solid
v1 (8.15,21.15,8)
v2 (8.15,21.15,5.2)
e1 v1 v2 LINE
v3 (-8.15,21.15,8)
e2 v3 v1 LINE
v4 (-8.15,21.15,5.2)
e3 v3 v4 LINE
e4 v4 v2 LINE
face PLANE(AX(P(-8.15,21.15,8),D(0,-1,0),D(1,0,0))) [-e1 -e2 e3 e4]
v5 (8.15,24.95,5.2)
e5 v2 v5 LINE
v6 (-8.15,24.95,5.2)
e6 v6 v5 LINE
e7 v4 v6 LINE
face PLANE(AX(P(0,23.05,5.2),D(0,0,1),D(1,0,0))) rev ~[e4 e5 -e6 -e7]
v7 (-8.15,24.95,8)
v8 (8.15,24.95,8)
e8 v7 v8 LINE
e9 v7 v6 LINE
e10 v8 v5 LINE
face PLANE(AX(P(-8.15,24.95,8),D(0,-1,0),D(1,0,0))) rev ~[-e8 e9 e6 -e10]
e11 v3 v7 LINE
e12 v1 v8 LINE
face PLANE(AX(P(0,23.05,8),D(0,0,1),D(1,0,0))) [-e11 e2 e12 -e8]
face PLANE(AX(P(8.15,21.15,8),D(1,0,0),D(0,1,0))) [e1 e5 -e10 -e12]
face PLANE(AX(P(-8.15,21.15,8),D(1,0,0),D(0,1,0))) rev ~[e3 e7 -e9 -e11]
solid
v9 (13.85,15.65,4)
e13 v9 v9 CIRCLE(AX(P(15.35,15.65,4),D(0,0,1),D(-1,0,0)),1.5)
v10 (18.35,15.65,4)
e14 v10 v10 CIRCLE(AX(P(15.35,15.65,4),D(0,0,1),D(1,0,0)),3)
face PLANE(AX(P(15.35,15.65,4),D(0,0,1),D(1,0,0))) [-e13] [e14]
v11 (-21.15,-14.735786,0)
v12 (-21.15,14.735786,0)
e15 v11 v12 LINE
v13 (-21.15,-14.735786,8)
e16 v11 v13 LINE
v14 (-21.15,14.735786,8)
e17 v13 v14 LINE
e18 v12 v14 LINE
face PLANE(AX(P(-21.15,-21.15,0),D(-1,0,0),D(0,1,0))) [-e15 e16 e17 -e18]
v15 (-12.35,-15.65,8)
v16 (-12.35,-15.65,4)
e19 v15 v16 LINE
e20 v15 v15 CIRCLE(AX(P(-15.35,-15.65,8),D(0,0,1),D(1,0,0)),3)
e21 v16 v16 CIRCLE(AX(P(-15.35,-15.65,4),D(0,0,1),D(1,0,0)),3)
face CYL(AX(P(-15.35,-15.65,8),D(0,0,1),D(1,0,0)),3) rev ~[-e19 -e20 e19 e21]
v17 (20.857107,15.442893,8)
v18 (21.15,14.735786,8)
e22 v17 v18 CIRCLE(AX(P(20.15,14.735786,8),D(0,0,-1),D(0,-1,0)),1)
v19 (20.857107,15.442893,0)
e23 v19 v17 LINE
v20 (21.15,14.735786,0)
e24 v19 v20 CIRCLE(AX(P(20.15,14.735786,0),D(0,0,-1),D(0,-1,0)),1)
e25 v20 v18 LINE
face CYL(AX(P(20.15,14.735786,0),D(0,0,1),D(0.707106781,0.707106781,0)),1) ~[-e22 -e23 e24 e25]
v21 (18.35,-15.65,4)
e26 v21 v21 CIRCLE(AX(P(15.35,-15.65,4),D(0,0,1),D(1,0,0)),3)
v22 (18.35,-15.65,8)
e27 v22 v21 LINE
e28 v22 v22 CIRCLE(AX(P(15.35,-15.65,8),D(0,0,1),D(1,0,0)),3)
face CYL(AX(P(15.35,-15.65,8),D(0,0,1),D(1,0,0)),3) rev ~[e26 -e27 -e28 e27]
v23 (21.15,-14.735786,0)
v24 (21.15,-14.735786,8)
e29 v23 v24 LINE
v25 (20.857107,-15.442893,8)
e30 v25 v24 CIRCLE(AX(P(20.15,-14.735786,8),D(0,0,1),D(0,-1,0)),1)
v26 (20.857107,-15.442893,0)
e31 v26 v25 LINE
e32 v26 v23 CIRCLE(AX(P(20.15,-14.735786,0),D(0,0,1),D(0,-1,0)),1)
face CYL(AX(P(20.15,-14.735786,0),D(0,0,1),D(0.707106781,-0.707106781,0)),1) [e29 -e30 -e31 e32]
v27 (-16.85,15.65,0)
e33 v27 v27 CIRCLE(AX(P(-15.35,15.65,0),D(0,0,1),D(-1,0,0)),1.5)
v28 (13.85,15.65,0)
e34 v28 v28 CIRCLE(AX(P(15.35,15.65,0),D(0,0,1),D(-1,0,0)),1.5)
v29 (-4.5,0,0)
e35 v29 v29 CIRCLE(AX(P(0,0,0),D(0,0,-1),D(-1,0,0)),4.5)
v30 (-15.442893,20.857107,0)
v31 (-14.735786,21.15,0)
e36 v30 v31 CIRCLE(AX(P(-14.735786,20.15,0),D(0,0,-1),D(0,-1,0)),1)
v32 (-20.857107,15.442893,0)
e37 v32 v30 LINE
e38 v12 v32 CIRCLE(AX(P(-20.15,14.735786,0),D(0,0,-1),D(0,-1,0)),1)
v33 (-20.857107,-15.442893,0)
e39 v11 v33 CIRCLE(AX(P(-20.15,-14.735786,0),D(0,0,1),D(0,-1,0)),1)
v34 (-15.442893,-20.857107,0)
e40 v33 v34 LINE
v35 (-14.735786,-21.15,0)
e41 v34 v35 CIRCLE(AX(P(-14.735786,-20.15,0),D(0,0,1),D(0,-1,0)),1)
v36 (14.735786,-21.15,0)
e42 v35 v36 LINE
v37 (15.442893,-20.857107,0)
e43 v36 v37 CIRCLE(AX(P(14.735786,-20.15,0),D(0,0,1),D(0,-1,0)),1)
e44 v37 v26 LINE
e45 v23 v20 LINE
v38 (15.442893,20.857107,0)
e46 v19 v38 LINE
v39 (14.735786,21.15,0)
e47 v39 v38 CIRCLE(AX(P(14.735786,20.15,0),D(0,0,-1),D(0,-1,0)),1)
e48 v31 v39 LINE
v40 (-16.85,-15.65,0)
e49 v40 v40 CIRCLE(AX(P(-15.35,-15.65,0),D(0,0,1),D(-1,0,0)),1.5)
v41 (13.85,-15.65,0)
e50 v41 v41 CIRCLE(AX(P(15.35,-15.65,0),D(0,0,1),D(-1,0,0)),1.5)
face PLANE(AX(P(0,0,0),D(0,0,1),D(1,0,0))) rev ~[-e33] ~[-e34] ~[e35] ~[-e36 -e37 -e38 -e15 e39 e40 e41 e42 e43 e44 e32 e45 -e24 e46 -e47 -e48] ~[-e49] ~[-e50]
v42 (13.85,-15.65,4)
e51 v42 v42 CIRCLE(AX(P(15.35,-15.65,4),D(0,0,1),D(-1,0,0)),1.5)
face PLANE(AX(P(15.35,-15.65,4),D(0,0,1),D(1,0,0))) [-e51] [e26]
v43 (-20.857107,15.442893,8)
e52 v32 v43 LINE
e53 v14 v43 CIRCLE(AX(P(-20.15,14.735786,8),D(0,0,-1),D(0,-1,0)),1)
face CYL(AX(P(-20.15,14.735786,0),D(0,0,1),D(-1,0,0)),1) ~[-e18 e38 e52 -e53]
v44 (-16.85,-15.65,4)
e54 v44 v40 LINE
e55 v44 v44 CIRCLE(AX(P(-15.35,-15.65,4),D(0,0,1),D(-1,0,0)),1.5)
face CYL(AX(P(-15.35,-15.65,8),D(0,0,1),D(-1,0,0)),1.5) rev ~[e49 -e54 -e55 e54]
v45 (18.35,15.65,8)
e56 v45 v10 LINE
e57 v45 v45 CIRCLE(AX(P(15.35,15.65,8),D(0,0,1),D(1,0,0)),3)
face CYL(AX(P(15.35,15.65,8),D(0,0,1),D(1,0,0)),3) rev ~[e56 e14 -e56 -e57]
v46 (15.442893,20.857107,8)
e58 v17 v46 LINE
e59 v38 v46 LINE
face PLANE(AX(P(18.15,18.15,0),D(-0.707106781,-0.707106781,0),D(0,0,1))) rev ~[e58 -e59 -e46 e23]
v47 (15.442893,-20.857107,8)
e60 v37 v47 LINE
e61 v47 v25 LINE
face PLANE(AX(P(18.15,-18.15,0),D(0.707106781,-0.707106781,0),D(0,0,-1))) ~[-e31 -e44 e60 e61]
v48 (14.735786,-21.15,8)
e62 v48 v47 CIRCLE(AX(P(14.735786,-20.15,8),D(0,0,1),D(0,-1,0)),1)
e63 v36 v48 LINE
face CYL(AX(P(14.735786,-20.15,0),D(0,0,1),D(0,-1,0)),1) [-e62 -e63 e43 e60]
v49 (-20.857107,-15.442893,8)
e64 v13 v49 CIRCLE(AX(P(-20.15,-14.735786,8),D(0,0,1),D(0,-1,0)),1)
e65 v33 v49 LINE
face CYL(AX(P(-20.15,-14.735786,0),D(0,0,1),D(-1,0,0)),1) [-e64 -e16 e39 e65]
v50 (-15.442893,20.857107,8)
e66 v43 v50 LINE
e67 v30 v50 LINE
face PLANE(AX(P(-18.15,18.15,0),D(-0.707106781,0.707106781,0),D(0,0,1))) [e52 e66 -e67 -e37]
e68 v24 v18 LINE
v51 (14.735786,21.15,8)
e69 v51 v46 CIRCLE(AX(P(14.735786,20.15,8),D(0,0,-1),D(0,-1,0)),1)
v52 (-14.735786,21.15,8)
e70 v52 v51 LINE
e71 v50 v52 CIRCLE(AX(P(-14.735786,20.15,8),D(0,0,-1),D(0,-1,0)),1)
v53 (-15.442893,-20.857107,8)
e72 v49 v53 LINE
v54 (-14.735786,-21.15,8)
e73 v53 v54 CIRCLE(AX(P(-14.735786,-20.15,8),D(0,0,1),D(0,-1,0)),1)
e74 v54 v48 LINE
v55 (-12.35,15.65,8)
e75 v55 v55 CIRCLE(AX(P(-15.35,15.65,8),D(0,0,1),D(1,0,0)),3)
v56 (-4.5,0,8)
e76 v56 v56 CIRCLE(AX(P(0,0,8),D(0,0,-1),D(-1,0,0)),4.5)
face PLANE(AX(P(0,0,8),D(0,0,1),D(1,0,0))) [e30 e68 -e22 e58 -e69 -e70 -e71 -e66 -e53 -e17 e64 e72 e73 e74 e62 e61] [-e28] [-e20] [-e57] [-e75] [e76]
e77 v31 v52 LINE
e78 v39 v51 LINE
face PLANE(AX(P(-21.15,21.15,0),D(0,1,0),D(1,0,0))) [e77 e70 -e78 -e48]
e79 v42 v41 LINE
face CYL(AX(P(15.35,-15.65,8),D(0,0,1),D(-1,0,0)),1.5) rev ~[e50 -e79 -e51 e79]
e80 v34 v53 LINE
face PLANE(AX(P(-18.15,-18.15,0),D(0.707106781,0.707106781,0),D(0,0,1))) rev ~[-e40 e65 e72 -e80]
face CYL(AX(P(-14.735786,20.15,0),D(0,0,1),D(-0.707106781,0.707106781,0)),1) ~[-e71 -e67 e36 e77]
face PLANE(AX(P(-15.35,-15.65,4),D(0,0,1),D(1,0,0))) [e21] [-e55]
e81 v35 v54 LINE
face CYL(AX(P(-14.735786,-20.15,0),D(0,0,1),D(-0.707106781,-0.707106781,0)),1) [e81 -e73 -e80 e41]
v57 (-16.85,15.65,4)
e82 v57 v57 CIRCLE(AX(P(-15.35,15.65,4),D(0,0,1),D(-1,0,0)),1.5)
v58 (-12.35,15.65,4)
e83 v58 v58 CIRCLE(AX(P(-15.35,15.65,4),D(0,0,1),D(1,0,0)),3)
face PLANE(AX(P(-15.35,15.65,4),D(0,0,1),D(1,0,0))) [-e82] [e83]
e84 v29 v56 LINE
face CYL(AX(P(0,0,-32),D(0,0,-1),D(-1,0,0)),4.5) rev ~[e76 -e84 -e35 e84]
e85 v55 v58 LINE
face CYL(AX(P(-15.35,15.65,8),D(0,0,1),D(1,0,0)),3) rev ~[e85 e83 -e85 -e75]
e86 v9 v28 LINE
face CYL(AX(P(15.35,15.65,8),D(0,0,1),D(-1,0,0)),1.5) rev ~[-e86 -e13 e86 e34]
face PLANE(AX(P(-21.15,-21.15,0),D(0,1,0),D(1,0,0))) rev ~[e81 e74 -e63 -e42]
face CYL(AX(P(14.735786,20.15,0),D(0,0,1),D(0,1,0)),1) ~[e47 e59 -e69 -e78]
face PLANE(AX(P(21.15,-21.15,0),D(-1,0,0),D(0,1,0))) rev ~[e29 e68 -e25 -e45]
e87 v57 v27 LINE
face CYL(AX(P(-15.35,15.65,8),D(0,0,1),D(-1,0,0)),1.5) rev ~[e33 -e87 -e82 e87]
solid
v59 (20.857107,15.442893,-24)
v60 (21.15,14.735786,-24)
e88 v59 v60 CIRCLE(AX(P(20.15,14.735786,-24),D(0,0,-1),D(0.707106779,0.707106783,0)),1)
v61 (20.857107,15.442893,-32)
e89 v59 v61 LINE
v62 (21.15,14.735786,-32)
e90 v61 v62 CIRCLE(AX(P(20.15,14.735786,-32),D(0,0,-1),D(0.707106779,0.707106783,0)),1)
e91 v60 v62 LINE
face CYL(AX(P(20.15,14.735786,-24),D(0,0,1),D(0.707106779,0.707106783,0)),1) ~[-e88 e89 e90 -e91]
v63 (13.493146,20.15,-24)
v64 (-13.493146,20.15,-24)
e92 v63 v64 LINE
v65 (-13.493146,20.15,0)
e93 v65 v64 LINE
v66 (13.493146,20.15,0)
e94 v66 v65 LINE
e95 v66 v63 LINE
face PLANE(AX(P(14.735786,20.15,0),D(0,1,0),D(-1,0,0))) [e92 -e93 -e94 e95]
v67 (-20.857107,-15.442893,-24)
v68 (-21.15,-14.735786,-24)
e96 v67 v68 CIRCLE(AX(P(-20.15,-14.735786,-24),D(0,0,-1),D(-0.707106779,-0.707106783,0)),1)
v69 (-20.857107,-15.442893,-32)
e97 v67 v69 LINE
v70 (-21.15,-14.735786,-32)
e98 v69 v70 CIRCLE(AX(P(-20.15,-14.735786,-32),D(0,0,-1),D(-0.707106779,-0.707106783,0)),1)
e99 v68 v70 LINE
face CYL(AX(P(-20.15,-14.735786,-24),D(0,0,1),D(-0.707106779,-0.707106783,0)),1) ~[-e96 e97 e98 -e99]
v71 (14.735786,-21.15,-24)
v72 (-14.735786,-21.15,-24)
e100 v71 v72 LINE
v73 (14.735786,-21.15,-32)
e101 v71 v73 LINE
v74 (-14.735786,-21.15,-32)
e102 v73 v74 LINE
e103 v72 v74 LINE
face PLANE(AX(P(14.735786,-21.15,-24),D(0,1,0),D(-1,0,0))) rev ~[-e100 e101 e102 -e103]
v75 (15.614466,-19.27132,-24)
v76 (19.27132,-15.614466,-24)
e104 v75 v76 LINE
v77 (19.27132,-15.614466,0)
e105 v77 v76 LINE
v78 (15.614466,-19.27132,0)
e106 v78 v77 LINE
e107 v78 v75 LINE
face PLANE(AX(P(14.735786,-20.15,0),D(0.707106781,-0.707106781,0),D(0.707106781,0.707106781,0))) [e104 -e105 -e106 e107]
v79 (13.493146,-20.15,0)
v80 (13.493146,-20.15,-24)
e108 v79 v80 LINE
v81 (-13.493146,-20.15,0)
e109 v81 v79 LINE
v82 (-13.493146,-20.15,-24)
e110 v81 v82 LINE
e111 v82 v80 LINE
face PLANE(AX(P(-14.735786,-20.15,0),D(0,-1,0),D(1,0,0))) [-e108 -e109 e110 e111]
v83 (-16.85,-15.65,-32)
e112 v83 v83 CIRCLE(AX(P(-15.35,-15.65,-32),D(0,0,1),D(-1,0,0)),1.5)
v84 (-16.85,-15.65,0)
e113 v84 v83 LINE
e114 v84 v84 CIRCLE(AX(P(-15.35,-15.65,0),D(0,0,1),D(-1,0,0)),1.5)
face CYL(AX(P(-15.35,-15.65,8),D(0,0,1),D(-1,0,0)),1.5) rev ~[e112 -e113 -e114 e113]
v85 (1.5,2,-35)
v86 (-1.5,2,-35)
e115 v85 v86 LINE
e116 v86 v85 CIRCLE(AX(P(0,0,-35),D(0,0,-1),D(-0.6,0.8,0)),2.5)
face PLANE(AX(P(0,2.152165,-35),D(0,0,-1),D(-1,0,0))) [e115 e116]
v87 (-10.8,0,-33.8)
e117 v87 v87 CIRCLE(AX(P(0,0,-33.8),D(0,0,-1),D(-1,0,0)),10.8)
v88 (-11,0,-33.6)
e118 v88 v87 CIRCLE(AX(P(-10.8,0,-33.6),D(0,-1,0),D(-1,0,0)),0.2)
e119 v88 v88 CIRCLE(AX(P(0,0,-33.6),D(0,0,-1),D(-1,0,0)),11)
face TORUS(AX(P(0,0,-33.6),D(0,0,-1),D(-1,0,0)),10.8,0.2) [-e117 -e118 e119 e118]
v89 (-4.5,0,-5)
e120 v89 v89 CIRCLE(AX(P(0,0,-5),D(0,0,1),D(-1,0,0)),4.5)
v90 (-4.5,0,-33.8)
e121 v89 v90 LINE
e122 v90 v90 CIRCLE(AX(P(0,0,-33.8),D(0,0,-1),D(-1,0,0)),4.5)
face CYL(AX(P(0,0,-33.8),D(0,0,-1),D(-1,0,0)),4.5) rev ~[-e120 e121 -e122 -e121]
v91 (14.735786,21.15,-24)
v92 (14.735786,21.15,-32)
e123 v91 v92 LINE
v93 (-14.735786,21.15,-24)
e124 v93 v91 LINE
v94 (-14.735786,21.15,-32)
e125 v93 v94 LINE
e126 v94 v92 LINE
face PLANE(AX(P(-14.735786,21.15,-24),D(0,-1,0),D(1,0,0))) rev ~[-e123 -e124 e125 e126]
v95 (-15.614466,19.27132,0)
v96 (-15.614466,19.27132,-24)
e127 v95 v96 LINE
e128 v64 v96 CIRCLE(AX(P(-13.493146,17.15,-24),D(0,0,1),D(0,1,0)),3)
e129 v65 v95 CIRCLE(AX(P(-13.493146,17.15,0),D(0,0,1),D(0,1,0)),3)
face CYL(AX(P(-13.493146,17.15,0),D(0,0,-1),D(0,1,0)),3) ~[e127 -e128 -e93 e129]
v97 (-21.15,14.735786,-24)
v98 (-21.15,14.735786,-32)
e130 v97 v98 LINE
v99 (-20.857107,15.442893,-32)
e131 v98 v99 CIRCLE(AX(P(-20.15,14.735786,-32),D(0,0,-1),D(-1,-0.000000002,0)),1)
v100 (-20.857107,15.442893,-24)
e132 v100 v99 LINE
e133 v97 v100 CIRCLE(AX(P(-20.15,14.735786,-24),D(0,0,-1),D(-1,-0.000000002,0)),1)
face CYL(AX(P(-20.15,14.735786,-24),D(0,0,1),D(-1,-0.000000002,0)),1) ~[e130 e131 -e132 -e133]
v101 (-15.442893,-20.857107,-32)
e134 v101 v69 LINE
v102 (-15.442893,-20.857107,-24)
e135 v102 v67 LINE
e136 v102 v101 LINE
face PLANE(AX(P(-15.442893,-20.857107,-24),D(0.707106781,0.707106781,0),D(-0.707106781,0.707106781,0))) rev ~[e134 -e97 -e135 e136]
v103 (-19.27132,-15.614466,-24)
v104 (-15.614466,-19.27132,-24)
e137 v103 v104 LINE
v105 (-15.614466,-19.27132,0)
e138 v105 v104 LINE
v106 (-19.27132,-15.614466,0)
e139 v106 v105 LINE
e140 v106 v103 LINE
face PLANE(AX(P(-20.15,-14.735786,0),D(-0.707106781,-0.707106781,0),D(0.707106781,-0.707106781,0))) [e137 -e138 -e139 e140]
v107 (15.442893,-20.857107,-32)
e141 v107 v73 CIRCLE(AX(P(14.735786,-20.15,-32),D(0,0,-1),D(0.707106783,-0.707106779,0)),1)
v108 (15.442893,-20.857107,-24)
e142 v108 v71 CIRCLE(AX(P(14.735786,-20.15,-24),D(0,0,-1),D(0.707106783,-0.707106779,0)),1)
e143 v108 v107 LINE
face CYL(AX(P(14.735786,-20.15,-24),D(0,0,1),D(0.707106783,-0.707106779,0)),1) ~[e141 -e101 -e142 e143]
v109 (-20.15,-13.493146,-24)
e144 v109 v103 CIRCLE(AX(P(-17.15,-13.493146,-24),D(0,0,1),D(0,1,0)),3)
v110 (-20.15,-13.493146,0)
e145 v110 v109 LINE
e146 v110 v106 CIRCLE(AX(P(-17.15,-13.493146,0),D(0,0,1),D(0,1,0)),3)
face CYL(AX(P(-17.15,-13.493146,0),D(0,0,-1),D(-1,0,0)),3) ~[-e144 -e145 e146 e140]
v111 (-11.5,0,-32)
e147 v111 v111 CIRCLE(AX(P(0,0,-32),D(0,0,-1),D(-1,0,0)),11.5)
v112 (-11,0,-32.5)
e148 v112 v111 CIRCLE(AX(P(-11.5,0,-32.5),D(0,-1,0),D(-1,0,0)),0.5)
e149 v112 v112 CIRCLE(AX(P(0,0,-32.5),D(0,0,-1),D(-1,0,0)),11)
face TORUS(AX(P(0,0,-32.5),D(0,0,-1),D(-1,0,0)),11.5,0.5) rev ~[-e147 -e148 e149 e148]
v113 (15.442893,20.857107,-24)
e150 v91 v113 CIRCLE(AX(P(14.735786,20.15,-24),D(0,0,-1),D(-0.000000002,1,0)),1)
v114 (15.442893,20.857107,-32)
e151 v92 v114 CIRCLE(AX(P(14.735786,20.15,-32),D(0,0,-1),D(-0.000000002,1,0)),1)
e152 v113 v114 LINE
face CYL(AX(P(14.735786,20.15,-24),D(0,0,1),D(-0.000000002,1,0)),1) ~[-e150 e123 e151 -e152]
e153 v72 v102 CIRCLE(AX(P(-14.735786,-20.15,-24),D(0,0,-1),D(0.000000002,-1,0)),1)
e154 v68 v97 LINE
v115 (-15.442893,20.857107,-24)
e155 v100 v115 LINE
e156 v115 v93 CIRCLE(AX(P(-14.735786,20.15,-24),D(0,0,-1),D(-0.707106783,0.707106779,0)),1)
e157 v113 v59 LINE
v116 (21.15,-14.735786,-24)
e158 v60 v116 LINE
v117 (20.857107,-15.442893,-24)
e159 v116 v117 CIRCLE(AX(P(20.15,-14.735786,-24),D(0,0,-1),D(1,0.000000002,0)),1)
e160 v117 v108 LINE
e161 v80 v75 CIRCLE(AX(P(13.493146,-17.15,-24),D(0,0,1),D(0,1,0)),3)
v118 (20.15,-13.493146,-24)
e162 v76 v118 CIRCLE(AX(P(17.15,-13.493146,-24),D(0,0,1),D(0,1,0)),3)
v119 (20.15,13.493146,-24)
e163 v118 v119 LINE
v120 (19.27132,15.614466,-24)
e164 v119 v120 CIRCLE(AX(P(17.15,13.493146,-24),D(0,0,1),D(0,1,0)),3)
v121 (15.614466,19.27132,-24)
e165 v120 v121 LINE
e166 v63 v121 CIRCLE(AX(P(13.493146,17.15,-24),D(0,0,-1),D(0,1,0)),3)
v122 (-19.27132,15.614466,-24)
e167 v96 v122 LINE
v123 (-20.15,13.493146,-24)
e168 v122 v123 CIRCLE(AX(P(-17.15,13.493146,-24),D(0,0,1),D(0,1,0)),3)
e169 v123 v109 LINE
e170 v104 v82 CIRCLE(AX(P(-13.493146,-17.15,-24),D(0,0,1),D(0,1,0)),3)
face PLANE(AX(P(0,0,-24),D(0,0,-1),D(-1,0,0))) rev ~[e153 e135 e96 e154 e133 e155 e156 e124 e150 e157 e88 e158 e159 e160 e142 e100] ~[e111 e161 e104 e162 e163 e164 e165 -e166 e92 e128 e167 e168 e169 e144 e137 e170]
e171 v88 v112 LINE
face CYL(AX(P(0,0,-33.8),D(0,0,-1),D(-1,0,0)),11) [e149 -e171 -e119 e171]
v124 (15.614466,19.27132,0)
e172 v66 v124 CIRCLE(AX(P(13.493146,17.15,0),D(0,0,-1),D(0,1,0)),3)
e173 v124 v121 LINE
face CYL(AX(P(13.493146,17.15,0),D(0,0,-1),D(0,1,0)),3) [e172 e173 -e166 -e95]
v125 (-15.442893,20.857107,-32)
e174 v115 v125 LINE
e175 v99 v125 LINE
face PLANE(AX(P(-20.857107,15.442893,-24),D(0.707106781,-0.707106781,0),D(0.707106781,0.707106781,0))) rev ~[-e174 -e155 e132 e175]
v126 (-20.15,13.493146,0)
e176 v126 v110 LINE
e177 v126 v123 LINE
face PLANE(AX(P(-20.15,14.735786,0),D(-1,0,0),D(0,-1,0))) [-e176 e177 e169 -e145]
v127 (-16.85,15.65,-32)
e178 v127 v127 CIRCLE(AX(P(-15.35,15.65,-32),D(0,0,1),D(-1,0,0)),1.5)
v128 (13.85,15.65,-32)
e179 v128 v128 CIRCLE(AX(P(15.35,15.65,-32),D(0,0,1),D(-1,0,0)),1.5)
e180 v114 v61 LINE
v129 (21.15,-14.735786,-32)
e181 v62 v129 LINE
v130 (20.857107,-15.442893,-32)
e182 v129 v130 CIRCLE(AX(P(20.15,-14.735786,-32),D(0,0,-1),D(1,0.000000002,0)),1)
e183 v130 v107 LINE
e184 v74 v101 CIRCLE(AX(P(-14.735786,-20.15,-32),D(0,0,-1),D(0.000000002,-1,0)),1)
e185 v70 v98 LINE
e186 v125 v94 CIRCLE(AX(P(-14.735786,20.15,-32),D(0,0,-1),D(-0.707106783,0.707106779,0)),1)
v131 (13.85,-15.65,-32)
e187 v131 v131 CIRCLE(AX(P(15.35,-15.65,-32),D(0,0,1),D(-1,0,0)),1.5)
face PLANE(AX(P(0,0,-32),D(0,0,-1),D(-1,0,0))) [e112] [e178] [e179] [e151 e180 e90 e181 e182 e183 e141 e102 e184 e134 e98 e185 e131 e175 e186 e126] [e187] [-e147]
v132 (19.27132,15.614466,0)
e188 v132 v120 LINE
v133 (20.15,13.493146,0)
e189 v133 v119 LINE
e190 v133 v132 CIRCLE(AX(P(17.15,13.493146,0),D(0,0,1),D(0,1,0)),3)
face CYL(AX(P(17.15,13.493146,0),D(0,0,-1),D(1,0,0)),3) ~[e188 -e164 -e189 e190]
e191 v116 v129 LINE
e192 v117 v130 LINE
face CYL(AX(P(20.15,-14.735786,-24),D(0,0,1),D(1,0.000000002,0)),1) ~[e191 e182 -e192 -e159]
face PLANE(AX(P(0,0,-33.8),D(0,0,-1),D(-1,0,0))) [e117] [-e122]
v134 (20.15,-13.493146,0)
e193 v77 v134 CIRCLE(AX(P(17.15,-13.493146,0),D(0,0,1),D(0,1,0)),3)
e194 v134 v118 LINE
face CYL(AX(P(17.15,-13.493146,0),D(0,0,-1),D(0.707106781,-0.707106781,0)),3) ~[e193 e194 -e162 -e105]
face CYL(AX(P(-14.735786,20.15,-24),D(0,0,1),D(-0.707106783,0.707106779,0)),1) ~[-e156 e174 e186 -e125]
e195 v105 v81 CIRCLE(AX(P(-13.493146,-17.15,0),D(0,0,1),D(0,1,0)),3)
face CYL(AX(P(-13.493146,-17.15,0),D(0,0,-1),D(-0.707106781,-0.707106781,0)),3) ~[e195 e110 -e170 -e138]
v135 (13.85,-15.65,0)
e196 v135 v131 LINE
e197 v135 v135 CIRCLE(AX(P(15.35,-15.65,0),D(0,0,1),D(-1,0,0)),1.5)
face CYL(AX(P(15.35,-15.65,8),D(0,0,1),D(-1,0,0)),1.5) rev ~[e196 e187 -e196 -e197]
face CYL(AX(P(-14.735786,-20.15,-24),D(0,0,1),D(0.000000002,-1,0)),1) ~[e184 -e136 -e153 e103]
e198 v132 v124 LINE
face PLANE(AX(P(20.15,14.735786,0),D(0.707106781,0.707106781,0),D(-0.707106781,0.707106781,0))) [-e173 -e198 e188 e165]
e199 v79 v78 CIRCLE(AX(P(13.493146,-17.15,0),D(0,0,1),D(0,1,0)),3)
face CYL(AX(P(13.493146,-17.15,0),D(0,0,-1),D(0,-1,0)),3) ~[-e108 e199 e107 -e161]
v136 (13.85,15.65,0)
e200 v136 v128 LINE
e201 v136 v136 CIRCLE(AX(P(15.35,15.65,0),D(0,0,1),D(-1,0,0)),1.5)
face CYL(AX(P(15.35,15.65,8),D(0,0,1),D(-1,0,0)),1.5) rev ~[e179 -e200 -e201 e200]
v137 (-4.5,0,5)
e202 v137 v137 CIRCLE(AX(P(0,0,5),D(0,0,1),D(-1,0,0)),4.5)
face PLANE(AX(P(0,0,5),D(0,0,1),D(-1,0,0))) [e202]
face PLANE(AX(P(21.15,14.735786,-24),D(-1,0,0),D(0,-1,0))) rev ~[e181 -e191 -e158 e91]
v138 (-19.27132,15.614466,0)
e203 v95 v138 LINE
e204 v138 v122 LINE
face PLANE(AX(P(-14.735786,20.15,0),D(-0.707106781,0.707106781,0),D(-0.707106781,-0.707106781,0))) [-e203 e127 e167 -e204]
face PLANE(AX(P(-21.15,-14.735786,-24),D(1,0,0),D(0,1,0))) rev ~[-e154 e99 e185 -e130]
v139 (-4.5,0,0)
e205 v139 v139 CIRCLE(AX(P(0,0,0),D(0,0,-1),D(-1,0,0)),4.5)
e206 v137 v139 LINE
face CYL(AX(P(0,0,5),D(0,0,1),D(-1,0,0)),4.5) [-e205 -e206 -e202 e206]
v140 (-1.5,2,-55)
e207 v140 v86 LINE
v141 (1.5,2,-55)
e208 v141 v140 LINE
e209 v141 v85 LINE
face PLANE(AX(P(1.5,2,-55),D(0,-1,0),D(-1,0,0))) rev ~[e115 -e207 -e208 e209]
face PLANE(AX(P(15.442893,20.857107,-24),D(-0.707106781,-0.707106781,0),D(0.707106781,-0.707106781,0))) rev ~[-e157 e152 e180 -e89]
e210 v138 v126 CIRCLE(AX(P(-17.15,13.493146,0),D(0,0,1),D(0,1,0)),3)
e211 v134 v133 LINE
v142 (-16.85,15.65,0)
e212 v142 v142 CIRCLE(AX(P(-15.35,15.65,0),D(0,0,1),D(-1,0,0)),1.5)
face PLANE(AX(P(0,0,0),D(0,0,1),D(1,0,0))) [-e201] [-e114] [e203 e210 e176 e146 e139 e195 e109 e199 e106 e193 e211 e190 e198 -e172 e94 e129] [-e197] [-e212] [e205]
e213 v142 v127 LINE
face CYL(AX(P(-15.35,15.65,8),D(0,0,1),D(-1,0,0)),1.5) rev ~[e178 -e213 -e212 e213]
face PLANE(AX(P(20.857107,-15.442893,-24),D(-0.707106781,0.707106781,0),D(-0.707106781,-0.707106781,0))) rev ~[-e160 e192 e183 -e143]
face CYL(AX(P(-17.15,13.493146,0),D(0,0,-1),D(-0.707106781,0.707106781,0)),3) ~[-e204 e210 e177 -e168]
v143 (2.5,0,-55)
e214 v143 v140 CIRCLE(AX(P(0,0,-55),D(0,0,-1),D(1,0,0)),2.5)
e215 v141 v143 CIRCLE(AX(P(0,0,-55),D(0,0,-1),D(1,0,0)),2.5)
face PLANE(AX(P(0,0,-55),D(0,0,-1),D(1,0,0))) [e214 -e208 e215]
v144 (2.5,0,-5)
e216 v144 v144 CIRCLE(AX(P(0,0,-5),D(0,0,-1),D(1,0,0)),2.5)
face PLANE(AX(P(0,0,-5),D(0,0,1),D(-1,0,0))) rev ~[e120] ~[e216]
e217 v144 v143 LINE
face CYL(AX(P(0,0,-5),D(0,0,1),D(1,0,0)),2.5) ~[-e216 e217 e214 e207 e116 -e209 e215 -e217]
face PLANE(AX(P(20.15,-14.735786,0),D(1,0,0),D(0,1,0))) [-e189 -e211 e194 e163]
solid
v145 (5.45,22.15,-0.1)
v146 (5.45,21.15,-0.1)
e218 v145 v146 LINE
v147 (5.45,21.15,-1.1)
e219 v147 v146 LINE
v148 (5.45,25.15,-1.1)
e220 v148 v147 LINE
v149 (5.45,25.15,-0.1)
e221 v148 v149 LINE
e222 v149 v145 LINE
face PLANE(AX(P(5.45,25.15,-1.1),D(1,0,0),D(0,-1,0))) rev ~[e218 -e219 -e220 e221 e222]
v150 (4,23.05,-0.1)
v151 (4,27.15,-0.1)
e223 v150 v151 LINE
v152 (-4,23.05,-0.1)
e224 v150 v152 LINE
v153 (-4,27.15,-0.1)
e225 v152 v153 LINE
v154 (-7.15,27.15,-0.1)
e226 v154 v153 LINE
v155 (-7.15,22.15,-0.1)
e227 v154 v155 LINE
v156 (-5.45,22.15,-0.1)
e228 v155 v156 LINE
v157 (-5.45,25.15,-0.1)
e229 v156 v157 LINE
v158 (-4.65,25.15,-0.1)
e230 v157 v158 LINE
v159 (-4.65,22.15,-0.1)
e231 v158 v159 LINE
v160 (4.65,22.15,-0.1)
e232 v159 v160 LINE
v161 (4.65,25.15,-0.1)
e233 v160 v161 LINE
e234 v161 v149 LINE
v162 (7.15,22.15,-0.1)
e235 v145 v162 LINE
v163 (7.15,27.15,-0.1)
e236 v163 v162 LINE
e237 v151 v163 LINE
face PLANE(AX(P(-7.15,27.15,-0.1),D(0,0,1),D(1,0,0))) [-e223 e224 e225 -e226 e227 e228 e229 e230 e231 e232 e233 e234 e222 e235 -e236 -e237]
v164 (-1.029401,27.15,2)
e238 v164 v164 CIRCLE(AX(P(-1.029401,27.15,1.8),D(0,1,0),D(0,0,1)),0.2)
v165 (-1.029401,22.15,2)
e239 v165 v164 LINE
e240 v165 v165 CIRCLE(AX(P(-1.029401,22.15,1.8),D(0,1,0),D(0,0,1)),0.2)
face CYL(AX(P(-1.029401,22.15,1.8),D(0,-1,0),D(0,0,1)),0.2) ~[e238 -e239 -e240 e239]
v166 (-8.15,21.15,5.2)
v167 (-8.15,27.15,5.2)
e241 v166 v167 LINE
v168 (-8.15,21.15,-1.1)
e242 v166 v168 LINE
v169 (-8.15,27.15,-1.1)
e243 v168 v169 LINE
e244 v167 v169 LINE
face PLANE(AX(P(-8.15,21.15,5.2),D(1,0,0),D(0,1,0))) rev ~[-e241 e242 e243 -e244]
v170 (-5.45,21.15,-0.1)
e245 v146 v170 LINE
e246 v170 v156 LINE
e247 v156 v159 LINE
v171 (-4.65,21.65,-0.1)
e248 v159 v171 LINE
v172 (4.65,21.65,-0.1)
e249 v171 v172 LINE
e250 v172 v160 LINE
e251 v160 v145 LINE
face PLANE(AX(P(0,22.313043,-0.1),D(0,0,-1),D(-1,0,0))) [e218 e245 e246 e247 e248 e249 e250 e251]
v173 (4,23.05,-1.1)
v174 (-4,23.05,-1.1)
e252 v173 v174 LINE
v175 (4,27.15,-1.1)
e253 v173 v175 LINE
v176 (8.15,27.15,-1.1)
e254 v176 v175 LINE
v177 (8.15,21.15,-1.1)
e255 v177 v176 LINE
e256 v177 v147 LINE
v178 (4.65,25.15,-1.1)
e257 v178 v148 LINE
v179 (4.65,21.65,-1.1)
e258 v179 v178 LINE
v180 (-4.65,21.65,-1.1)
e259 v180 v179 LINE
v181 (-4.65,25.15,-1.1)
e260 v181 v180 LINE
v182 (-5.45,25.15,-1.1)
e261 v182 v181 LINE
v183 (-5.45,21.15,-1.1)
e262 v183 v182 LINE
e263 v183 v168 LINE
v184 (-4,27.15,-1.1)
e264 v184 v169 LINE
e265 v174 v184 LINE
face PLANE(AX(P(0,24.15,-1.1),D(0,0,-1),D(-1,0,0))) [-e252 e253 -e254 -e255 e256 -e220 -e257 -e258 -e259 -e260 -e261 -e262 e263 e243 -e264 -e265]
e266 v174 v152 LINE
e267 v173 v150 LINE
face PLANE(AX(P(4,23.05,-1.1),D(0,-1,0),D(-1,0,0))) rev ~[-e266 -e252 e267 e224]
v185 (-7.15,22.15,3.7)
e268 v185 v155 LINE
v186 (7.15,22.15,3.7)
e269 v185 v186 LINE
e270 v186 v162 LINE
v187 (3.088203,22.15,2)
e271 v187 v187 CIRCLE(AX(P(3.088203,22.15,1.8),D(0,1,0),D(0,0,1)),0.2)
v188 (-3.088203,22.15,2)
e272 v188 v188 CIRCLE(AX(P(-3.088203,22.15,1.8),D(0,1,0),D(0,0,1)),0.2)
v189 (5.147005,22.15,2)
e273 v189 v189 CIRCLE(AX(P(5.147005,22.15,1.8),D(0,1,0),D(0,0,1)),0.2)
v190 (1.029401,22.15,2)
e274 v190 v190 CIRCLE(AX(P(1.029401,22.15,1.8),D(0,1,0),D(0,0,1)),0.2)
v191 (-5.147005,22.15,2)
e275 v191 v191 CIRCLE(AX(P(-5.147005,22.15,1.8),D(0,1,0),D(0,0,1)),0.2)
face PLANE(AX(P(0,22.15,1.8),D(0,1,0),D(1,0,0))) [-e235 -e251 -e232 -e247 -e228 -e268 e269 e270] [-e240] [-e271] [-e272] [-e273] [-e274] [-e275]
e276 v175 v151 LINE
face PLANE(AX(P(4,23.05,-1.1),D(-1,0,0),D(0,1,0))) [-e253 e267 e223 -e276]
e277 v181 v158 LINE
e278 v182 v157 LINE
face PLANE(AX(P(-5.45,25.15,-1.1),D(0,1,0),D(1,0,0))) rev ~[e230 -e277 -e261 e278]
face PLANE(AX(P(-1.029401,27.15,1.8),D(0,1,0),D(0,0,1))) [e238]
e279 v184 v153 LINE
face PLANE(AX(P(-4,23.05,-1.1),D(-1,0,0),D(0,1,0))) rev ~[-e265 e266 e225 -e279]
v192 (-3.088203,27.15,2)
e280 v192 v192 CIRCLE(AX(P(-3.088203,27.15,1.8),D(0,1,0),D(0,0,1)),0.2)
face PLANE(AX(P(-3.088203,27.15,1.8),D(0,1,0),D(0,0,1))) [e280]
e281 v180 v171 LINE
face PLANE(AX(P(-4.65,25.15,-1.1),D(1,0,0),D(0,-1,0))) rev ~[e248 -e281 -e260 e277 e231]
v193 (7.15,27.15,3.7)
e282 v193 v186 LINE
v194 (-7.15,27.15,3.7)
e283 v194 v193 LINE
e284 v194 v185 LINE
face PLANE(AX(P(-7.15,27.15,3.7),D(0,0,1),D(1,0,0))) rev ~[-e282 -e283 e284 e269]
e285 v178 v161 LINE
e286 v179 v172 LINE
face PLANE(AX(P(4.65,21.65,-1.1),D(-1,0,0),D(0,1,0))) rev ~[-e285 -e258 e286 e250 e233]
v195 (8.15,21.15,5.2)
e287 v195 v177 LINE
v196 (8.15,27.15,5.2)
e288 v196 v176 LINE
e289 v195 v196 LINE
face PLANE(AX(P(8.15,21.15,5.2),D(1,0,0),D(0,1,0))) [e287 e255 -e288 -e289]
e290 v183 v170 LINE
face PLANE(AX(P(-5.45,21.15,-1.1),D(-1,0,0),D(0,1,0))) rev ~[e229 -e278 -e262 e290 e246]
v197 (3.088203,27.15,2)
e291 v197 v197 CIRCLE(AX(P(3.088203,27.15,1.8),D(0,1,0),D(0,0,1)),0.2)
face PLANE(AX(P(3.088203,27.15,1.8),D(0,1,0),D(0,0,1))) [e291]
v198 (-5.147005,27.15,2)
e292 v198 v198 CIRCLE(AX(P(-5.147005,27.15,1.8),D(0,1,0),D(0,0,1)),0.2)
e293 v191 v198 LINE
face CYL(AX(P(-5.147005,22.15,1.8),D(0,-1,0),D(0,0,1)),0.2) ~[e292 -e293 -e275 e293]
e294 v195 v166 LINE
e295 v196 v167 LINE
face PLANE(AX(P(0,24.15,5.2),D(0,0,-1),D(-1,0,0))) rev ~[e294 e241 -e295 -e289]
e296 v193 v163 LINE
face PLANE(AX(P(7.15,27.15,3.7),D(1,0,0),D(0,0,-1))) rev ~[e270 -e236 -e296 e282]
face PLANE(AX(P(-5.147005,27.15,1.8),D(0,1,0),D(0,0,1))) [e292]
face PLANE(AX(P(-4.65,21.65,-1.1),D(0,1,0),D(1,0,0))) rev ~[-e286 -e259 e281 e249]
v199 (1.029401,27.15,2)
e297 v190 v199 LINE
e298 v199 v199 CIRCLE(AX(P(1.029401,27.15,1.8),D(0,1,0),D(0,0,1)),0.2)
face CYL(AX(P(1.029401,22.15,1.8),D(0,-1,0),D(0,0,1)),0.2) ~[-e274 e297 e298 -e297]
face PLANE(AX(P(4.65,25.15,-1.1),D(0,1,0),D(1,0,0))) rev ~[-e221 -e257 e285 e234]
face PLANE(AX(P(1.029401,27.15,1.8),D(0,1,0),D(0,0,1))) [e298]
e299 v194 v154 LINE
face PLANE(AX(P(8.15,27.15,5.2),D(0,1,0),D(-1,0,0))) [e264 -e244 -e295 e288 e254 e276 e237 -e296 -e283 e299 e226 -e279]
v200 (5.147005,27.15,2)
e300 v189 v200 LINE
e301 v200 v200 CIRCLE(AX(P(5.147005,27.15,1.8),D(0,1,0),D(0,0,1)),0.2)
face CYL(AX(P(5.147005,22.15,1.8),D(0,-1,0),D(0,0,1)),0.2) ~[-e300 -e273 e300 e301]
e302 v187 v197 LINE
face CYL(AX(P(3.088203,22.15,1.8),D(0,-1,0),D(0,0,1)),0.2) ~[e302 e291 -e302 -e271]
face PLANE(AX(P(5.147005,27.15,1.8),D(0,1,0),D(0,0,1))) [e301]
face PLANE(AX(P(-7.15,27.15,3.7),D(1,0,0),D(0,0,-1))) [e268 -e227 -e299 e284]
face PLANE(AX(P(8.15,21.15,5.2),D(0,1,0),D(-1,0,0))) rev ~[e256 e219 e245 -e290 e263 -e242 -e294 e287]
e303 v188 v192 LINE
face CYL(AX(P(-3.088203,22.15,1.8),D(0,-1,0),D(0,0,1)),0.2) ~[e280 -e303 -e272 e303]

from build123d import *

# Parameters (mm, degrees)
SKETCH1_W            = 42.3
SKETCH1_H            = 42.3
BOSS_EXTRUDE1_DEPTH  = 8
CHAMFER1_SIZE        = 6
FILLET1_R            = 1
BOSS_EXTRUDE4_DEPTH  = 24
FILLET2_R            = 3
BOSS_EXTRUDE5_DEPTH  = 8
SKETCH7_R            = 1.5
CUT_EXTRUDE1_DEPTH   = 50.946421293
SKETCH8_R            = 4.5
CUT_EXTRUDE2_DEPTH   = 50.946421293
BOSS_EXTRUDE7_START  = 1.8
SKETCH9_R            = 11
SKETCH9_R_2          = 4.5
BOSS_EXTRUDE7_DEPTH  = 1.8
FILLET4_R            = 0.5
FILLET5_R            = 0.2
SKETCH12_R           = 4.5
BOSS_EXTRUDE8_DEPTH  = 10
SKETCH16_R           = 2.5
BOSS_EXTRUDE9_DEPTH  = 50
CUT_EXTRUDE10_DEPTH  = 20
SKETCH24_W           = 16.3
SKETCH24_H           = 3.8
BOSS_EXTRUDE17_DEPTH = 2.8
SKETCH25_W           = 16.3
SKETCH25_H           = 6
BOSS_EXTRUDE18_DEPTH = 6.3
SKETCH26_W           = 8
SKETCH26_H           = 4.1
CUT_EXTRUDE6_DEPTH   = 4
SKETCH28_W           = 14.3
SKETCH28_H           = 3.8
CUT_EXTRUDE7_DEPTH   = 5
CUT_EXTRUDE8_DEPTH   = 1
SKETCH29_R           = 0.2
BOSS_EXTRUDE19_DEPTH = 5
SKETCH30_R           = 3
SKETCH30_R_2         = 1.5
CUT_EXTRUDE9_DEPTH   = 4


with BuildPart() as part:
    # Sketch1 → Boss-Extrude1 (new body)
    with BuildSketch(Plane.XY):
        Rectangle(SKETCH1_W, SKETCH1_H)
    extrude(amount=BOSS_EXTRUDE1_DEPTH)

    # Chamfer1
    chamfer1_edges = [part.edges().sort_by_distance(p)[0] for p in [
        (-21.15, -21.15, 4),
        (21.15, -21.15, 4),
        (21.15, 21.15, 4),
        (-21.15, 21.15, 4),
    ]]
    chamfer(chamfer1_edges, length=CHAMFER1_SIZE)

    # Fillet1
    fillet1_edges = [part.edges().sort_by_distance(p)[0] for p in [
        (-15.15, 21.15, 4),
        (-21.15, 15.15, 4),
        (-21.15, -15.15, 4),
        (-15.15, -21.15, 4),
        (15.15, -21.15, 4),
        (21.15, -15.15, 4),
        (21.15, 15.15, 4),
        (15.15, 21.15, 4),
    ]]
    fillet(fillet1_edges, radius=FILLET1_R)


with BuildPart() as body_2:
    # Sketch3 → Boss-Extrude4 (new body)
    with BuildSketch(Plane(origin=(0, 0, 0), x_dir=(-1, 0, 0), z_dir=(0, 0, -1))):
        Polygon((-14.735786438, 20.15), (14.735786438, 20.15), (20.15, 14.735786438), (20.15, -14.735786438), (14.735786438, -20.15), (-14.735786438, -20.15), (-20.15, -14.735786438), (-20.15, 14.735786438), align=None)
    extrude(amount=BOSS_EXTRUDE4_DEPTH)

    # Fillet2
    fillet2_edges = [body_2.edges().sort_by_distance(p)[0] for p in [
        (20.15, -14.735786438, -12),
        (14.735786438, -20.15, -12),
        (-14.735786438, -20.15, -12),
        (-20.15, -14.735786438, -12),
        (-20.15, 14.735786438, -12),
        (-14.735786438, 20.15, -12),
        (20.15, 14.735786438, -12),
        (14.735786438, 20.15, -12),
    ]]
    fillet(fillet2_edges, radius=FILLET2_R)


with BuildPart() as body_3:
    # Sketch6 → Boss-Extrude5 (new body)
    with BuildSketch(Plane(origin=(0, 0, -24), x_dir=(-1, 0, 0), z_dir=(0, 0, -1))):
        with BuildLine():
            Line((15.442893219, -20.857106781), (20.857106781, -15.442893219))
            ThreePointArc((20.857106781, -15.442893219), (21.073879533, -15.11846987), (21.15, -14.735786438))
            Line((21.15, -14.735786438), (21.15, 14.735786438))
            ThreePointArc((21.15, 14.735786438), (21.073879533, 15.11846987), (20.857106781, 15.442893219))
            Line((20.857106781, 15.442893219), (15.442893219, 20.857106781))
            ThreePointArc((15.442893219, 20.857106781), (15.11846987, 21.073879533), (14.735786438, 21.15))
            Line((14.735786438, 21.15), (-14.735786438, 21.15))
            ThreePointArc((-14.735786438, 21.15), (-15.11846987, 21.073879533), (-15.442893219, 20.857106781))
            Line((-15.442893219, 20.857106781), (-20.857106781, 15.442893219))
            ThreePointArc((-20.857106781, 15.442893219), (-21.073879533, 15.11846987), (-21.15, 14.735786438))
            Line((-21.15, 14.735786438), (-21.15, -14.735786438))
            ThreePointArc((-21.15, -14.735786438), (-21.073879533, -15.11846987), (-20.857106781, -15.442893219))
            Line((-20.857106781, -15.442893219), (-15.442893219, -20.857106781))
            ThreePointArc((-15.442893219, -20.857106781), (-15.11846987, -21.073879533), (-14.735786438, -21.15))
            Line((-14.735786438, -21.15), (14.735786438, -21.15))
            ThreePointArc((14.735786438, -21.15), (15.11846987, -21.073879533), (15.442893219, -20.857106781))
        make_face()
    extrude(amount=BOSS_EXTRUDE5_DEPTH)


with BuildPart() as cut_extrude1_tool:
    # Sketch7 → Cut-Extrude1 (new, through all)
    with BuildSketch(Plane.XY.offset(8)):
        with Locations((-15.35, 15.65)):
            Circle(SKETCH7_R)
        with Locations((15.35, 15.65)):
            Circle(SKETCH7_R)
        with Locations((15.35, -15.65)):
            Circle(SKETCH7_R)
        with Locations((-15.35, -15.65)):
            Circle(SKETCH7_R)
    extrude(amount=-CUT_EXTRUDE1_DEPTH)


with BuildPart() as part_1:
    add(part.part)

    # Cut-Extrude1: cut by cut_extrude1_tool
    add(cut_extrude1_tool.part, mode=Mode.SUBTRACT)


with BuildPart() as body_2_1:
    add(body_2.part)

    # Cut-Extrude1: cut by cut_extrude1_tool
    add(cut_extrude1_tool.part, mode=Mode.SUBTRACT)


with BuildPart() as body_3_1:
    add(body_3.part)

    # Cut-Extrude1: cut by cut_extrude1_tool
    add(cut_extrude1_tool.part, mode=Mode.SUBTRACT)


with BuildPart() as cut_extrude2_tool:
    # Sketch8 → Cut-Extrude2 (new, through all)
    with BuildSketch(Plane(origin=(0, 0, -32), x_dir=(-1, 0, 0), z_dir=(0, 0, -1))):
        Circle(SKETCH8_R)
    extrude(amount=-CUT_EXTRUDE2_DEPTH)


with BuildPart() as part_2:
    add(part_1.part)

    # Cut-Extrude2: cut by cut_extrude2_tool
    add(cut_extrude2_tool.part, mode=Mode.SUBTRACT)

    # Sketch30 → Cut-Extrude9 (cut)
    # profile 1 of 4: a face of its own
    with BuildSketch(Plane.XY.offset(8)):
        with Locations((-15.35, 15.65)):
            Circle(SKETCH30_R)
        with Locations((-15.35, 15.65)):
            Circle(SKETCH30_R_2, mode=Mode.SUBTRACT)
    # profile 2 of 4: a face of its own
    with BuildSketch(Plane.XY.offset(8)):
        with Locations((15.35, 15.65)):
            Circle(SKETCH30_R)
        with Locations((15.35, 15.65)):
            Circle(SKETCH30_R_2, mode=Mode.SUBTRACT)
    # profile 3 of 4: a face of its own
    with BuildSketch(Plane.XY.offset(8)):
        with Locations((15.35, -15.65)):
            Circle(SKETCH30_R)
        with Locations((15.35, -15.65)):
            Circle(SKETCH30_R_2, mode=Mode.SUBTRACT)
    # profile 4 of 4: a face of its own
    with BuildSketch(Plane.XY.offset(8)):
        with Locations((-15.35, -15.65)):
            Circle(SKETCH30_R)
        with Locations((-15.35, -15.65)):
            Circle(SKETCH30_R_2, mode=Mode.SUBTRACT)
    extrude(amount=-CUT_EXTRUDE9_DEPTH, mode=Mode.SUBTRACT)


with BuildPart() as body_2_2:
    add(body_2_1.part)

    # Cut-Extrude2: cut by cut_extrude2_tool
    add(cut_extrude2_tool.part, mode=Mode.SUBTRACT)



with BuildPart() as body_3_2:
    add(body_3_1.part)

    # Cut-Extrude2: cut by cut_extrude2_tool
    add(cut_extrude2_tool.part, mode=Mode.SUBTRACT)

    # Sketch9 → Boss-Extrude7 (add)
    with BuildSketch(Plane(origin=(0, 0, -32), x_dir=(-1, 0, 0), z_dir=(0, 0, -1)).offset(BOSS_EXTRUDE7_START)):
        Circle(SKETCH9_R)
        Circle(SKETCH9_R_2, mode=Mode.SUBTRACT)
    extrude(amount=-BOSS_EXTRUDE7_DEPTH)

    # Fillet4
    fillet4_edges = [body_3_2.edges().sort_by_distance(p)[0] for p in [
        (11, 0, -32),
    ]]
    fillet(fillet4_edges, radius=FILLET4_R)

    # Fillet5
    fillet5_edges = [body_3_2.edges().sort_by_distance(p)[0] for p in [
        (11, 0, -33.8),
    ]]
    fillet(fillet5_edges, radius=FILLET5_R)


with BuildPart() as body_4:
    # Sketch12 → Boss-Extrude8 (new body)
    with BuildSketch(Plane.XY.offset(5)):
        Circle(SKETCH12_R)
    extrude(amount=-BOSS_EXTRUDE8_DEPTH)


with BuildPart() as body_2_3:
    add(body_2_2.part)

    add(body_3_2.part)  # Boss-Extrude9 merges body 3

    add(body_4.part)  # Boss-Extrude9 merges body 4
    # Sketch16 → Boss-Extrude9 (add)
    with BuildSketch(Plane(origin=(0, 0, -5), x_dir=(-1, 0, 0), z_dir=(0, 0, -1))):
        Circle(SKETCH16_R)
    extrude(amount=BOSS_EXTRUDE9_DEPTH)

    # Sketch17 → Cut-Extrude10 (cut)
    with BuildSketch(Plane(origin=(0, 0, -55), x_dir=(-1, 0, 0), z_dir=(0, 0, -1))):
        with BuildLine():
            Line((-1.5, 2), (1.5, 2))
            ThreePointArc((1.5, 2), (0, 2.5), (-1.5, 2))
        make_face()
    extrude(amount=-CUT_EXTRUDE10_DEPTH, mode=Mode.SUBTRACT)


with BuildPart() as body_3_2_1:
    # Sketch24 → Boss-Extrude17 (new body)
    with BuildSketch(Plane.XY.offset(8)):
        with Locations((0, 23.05)):
            Rectangle(SKETCH24_W, SKETCH24_H)
    extrude(amount=-BOSS_EXTRUDE17_DEPTH)


with BuildPart() as body_4_2:
    # Sketch25 → Boss-Extrude18 (new body)
    with BuildSketch(Plane(origin=(0, 0, 5.2), x_dir=(-1, 0, 0), z_dir=(0, 0, -1))):
        with Locations((0, 24.15)):
            Rectangle(SKETCH25_W, SKETCH25_H)
    extrude(amount=BOSS_EXTRUDE18_DEPTH)

    # Sketch26 → Cut-Extrude6 (cut)
    with BuildSketch(Plane(origin=(0, 0, -1.1), x_dir=(-1, 0, 0), z_dir=(0, 0, -1))):
        with Locations((0, 25.1)):
            Rectangle(SKETCH26_W, SKETCH26_H)
    extrude(amount=-CUT_EXTRUDE6_DEPTH, mode=Mode.SUBTRACT)

    # Sketch28 → Cut-Extrude7 (cut)
    with BuildSketch(Plane(origin=(0, 27.15, 0), x_dir=(1, 0, 0), z_dir=(0, 1, 0))):
        with Locations((0, -1.8)):
            Rectangle(SKETCH28_W, SKETCH28_H)
    extrude(amount=-CUT_EXTRUDE7_DEPTH, mode=Mode.SUBTRACT)

    # Sketch26<4> → Cut-Extrude8 (cut)
    with BuildSketch(Plane(origin=(0, 0, -1.1), x_dir=(-1, 0, 0), z_dir=(0, 0, -1))):
        Polygon((-5.45, 25.15), (-5.45, 21.15), (5.45, 21.15), (5.45, 25.15), (4.65, 25.15), (4.65, 21.65), (-4.65, 21.65), (-4.65, 25.15), align=None)
    extrude(amount=-CUT_EXTRUDE8_DEPTH, mode=Mode.SUBTRACT)

    # Sketch29 → Boss-Extrude19 (add)
    with BuildSketch(Plane(origin=(0, 22.15, 0), x_dir=(1, 0, 0), z_dir=(0, 1, 0))):
        with Locations((-5.147005039, -1.8)):
            Circle(SKETCH29_R)
        with Locations((-3.088203024, -1.8)):
            Circle(SKETCH29_R)
        with Locations((-1.029401008, -1.8)):
            Circle(SKETCH29_R)
        with Locations((1.029401008, -1.8)):
            Circle(SKETCH29_R)
        with Locations((3.088203024, -1.8)):
            Circle(SKETCH29_R)
        with Locations((5.147005039, -1.8)):
            Circle(SKETCH29_R)
    extrude(amount=BOSS_EXTRUDE19_DEPTH)


solid = Compound([part_2.part, body_2_3.part, body_3_2_1.part, body_4_2.part])
